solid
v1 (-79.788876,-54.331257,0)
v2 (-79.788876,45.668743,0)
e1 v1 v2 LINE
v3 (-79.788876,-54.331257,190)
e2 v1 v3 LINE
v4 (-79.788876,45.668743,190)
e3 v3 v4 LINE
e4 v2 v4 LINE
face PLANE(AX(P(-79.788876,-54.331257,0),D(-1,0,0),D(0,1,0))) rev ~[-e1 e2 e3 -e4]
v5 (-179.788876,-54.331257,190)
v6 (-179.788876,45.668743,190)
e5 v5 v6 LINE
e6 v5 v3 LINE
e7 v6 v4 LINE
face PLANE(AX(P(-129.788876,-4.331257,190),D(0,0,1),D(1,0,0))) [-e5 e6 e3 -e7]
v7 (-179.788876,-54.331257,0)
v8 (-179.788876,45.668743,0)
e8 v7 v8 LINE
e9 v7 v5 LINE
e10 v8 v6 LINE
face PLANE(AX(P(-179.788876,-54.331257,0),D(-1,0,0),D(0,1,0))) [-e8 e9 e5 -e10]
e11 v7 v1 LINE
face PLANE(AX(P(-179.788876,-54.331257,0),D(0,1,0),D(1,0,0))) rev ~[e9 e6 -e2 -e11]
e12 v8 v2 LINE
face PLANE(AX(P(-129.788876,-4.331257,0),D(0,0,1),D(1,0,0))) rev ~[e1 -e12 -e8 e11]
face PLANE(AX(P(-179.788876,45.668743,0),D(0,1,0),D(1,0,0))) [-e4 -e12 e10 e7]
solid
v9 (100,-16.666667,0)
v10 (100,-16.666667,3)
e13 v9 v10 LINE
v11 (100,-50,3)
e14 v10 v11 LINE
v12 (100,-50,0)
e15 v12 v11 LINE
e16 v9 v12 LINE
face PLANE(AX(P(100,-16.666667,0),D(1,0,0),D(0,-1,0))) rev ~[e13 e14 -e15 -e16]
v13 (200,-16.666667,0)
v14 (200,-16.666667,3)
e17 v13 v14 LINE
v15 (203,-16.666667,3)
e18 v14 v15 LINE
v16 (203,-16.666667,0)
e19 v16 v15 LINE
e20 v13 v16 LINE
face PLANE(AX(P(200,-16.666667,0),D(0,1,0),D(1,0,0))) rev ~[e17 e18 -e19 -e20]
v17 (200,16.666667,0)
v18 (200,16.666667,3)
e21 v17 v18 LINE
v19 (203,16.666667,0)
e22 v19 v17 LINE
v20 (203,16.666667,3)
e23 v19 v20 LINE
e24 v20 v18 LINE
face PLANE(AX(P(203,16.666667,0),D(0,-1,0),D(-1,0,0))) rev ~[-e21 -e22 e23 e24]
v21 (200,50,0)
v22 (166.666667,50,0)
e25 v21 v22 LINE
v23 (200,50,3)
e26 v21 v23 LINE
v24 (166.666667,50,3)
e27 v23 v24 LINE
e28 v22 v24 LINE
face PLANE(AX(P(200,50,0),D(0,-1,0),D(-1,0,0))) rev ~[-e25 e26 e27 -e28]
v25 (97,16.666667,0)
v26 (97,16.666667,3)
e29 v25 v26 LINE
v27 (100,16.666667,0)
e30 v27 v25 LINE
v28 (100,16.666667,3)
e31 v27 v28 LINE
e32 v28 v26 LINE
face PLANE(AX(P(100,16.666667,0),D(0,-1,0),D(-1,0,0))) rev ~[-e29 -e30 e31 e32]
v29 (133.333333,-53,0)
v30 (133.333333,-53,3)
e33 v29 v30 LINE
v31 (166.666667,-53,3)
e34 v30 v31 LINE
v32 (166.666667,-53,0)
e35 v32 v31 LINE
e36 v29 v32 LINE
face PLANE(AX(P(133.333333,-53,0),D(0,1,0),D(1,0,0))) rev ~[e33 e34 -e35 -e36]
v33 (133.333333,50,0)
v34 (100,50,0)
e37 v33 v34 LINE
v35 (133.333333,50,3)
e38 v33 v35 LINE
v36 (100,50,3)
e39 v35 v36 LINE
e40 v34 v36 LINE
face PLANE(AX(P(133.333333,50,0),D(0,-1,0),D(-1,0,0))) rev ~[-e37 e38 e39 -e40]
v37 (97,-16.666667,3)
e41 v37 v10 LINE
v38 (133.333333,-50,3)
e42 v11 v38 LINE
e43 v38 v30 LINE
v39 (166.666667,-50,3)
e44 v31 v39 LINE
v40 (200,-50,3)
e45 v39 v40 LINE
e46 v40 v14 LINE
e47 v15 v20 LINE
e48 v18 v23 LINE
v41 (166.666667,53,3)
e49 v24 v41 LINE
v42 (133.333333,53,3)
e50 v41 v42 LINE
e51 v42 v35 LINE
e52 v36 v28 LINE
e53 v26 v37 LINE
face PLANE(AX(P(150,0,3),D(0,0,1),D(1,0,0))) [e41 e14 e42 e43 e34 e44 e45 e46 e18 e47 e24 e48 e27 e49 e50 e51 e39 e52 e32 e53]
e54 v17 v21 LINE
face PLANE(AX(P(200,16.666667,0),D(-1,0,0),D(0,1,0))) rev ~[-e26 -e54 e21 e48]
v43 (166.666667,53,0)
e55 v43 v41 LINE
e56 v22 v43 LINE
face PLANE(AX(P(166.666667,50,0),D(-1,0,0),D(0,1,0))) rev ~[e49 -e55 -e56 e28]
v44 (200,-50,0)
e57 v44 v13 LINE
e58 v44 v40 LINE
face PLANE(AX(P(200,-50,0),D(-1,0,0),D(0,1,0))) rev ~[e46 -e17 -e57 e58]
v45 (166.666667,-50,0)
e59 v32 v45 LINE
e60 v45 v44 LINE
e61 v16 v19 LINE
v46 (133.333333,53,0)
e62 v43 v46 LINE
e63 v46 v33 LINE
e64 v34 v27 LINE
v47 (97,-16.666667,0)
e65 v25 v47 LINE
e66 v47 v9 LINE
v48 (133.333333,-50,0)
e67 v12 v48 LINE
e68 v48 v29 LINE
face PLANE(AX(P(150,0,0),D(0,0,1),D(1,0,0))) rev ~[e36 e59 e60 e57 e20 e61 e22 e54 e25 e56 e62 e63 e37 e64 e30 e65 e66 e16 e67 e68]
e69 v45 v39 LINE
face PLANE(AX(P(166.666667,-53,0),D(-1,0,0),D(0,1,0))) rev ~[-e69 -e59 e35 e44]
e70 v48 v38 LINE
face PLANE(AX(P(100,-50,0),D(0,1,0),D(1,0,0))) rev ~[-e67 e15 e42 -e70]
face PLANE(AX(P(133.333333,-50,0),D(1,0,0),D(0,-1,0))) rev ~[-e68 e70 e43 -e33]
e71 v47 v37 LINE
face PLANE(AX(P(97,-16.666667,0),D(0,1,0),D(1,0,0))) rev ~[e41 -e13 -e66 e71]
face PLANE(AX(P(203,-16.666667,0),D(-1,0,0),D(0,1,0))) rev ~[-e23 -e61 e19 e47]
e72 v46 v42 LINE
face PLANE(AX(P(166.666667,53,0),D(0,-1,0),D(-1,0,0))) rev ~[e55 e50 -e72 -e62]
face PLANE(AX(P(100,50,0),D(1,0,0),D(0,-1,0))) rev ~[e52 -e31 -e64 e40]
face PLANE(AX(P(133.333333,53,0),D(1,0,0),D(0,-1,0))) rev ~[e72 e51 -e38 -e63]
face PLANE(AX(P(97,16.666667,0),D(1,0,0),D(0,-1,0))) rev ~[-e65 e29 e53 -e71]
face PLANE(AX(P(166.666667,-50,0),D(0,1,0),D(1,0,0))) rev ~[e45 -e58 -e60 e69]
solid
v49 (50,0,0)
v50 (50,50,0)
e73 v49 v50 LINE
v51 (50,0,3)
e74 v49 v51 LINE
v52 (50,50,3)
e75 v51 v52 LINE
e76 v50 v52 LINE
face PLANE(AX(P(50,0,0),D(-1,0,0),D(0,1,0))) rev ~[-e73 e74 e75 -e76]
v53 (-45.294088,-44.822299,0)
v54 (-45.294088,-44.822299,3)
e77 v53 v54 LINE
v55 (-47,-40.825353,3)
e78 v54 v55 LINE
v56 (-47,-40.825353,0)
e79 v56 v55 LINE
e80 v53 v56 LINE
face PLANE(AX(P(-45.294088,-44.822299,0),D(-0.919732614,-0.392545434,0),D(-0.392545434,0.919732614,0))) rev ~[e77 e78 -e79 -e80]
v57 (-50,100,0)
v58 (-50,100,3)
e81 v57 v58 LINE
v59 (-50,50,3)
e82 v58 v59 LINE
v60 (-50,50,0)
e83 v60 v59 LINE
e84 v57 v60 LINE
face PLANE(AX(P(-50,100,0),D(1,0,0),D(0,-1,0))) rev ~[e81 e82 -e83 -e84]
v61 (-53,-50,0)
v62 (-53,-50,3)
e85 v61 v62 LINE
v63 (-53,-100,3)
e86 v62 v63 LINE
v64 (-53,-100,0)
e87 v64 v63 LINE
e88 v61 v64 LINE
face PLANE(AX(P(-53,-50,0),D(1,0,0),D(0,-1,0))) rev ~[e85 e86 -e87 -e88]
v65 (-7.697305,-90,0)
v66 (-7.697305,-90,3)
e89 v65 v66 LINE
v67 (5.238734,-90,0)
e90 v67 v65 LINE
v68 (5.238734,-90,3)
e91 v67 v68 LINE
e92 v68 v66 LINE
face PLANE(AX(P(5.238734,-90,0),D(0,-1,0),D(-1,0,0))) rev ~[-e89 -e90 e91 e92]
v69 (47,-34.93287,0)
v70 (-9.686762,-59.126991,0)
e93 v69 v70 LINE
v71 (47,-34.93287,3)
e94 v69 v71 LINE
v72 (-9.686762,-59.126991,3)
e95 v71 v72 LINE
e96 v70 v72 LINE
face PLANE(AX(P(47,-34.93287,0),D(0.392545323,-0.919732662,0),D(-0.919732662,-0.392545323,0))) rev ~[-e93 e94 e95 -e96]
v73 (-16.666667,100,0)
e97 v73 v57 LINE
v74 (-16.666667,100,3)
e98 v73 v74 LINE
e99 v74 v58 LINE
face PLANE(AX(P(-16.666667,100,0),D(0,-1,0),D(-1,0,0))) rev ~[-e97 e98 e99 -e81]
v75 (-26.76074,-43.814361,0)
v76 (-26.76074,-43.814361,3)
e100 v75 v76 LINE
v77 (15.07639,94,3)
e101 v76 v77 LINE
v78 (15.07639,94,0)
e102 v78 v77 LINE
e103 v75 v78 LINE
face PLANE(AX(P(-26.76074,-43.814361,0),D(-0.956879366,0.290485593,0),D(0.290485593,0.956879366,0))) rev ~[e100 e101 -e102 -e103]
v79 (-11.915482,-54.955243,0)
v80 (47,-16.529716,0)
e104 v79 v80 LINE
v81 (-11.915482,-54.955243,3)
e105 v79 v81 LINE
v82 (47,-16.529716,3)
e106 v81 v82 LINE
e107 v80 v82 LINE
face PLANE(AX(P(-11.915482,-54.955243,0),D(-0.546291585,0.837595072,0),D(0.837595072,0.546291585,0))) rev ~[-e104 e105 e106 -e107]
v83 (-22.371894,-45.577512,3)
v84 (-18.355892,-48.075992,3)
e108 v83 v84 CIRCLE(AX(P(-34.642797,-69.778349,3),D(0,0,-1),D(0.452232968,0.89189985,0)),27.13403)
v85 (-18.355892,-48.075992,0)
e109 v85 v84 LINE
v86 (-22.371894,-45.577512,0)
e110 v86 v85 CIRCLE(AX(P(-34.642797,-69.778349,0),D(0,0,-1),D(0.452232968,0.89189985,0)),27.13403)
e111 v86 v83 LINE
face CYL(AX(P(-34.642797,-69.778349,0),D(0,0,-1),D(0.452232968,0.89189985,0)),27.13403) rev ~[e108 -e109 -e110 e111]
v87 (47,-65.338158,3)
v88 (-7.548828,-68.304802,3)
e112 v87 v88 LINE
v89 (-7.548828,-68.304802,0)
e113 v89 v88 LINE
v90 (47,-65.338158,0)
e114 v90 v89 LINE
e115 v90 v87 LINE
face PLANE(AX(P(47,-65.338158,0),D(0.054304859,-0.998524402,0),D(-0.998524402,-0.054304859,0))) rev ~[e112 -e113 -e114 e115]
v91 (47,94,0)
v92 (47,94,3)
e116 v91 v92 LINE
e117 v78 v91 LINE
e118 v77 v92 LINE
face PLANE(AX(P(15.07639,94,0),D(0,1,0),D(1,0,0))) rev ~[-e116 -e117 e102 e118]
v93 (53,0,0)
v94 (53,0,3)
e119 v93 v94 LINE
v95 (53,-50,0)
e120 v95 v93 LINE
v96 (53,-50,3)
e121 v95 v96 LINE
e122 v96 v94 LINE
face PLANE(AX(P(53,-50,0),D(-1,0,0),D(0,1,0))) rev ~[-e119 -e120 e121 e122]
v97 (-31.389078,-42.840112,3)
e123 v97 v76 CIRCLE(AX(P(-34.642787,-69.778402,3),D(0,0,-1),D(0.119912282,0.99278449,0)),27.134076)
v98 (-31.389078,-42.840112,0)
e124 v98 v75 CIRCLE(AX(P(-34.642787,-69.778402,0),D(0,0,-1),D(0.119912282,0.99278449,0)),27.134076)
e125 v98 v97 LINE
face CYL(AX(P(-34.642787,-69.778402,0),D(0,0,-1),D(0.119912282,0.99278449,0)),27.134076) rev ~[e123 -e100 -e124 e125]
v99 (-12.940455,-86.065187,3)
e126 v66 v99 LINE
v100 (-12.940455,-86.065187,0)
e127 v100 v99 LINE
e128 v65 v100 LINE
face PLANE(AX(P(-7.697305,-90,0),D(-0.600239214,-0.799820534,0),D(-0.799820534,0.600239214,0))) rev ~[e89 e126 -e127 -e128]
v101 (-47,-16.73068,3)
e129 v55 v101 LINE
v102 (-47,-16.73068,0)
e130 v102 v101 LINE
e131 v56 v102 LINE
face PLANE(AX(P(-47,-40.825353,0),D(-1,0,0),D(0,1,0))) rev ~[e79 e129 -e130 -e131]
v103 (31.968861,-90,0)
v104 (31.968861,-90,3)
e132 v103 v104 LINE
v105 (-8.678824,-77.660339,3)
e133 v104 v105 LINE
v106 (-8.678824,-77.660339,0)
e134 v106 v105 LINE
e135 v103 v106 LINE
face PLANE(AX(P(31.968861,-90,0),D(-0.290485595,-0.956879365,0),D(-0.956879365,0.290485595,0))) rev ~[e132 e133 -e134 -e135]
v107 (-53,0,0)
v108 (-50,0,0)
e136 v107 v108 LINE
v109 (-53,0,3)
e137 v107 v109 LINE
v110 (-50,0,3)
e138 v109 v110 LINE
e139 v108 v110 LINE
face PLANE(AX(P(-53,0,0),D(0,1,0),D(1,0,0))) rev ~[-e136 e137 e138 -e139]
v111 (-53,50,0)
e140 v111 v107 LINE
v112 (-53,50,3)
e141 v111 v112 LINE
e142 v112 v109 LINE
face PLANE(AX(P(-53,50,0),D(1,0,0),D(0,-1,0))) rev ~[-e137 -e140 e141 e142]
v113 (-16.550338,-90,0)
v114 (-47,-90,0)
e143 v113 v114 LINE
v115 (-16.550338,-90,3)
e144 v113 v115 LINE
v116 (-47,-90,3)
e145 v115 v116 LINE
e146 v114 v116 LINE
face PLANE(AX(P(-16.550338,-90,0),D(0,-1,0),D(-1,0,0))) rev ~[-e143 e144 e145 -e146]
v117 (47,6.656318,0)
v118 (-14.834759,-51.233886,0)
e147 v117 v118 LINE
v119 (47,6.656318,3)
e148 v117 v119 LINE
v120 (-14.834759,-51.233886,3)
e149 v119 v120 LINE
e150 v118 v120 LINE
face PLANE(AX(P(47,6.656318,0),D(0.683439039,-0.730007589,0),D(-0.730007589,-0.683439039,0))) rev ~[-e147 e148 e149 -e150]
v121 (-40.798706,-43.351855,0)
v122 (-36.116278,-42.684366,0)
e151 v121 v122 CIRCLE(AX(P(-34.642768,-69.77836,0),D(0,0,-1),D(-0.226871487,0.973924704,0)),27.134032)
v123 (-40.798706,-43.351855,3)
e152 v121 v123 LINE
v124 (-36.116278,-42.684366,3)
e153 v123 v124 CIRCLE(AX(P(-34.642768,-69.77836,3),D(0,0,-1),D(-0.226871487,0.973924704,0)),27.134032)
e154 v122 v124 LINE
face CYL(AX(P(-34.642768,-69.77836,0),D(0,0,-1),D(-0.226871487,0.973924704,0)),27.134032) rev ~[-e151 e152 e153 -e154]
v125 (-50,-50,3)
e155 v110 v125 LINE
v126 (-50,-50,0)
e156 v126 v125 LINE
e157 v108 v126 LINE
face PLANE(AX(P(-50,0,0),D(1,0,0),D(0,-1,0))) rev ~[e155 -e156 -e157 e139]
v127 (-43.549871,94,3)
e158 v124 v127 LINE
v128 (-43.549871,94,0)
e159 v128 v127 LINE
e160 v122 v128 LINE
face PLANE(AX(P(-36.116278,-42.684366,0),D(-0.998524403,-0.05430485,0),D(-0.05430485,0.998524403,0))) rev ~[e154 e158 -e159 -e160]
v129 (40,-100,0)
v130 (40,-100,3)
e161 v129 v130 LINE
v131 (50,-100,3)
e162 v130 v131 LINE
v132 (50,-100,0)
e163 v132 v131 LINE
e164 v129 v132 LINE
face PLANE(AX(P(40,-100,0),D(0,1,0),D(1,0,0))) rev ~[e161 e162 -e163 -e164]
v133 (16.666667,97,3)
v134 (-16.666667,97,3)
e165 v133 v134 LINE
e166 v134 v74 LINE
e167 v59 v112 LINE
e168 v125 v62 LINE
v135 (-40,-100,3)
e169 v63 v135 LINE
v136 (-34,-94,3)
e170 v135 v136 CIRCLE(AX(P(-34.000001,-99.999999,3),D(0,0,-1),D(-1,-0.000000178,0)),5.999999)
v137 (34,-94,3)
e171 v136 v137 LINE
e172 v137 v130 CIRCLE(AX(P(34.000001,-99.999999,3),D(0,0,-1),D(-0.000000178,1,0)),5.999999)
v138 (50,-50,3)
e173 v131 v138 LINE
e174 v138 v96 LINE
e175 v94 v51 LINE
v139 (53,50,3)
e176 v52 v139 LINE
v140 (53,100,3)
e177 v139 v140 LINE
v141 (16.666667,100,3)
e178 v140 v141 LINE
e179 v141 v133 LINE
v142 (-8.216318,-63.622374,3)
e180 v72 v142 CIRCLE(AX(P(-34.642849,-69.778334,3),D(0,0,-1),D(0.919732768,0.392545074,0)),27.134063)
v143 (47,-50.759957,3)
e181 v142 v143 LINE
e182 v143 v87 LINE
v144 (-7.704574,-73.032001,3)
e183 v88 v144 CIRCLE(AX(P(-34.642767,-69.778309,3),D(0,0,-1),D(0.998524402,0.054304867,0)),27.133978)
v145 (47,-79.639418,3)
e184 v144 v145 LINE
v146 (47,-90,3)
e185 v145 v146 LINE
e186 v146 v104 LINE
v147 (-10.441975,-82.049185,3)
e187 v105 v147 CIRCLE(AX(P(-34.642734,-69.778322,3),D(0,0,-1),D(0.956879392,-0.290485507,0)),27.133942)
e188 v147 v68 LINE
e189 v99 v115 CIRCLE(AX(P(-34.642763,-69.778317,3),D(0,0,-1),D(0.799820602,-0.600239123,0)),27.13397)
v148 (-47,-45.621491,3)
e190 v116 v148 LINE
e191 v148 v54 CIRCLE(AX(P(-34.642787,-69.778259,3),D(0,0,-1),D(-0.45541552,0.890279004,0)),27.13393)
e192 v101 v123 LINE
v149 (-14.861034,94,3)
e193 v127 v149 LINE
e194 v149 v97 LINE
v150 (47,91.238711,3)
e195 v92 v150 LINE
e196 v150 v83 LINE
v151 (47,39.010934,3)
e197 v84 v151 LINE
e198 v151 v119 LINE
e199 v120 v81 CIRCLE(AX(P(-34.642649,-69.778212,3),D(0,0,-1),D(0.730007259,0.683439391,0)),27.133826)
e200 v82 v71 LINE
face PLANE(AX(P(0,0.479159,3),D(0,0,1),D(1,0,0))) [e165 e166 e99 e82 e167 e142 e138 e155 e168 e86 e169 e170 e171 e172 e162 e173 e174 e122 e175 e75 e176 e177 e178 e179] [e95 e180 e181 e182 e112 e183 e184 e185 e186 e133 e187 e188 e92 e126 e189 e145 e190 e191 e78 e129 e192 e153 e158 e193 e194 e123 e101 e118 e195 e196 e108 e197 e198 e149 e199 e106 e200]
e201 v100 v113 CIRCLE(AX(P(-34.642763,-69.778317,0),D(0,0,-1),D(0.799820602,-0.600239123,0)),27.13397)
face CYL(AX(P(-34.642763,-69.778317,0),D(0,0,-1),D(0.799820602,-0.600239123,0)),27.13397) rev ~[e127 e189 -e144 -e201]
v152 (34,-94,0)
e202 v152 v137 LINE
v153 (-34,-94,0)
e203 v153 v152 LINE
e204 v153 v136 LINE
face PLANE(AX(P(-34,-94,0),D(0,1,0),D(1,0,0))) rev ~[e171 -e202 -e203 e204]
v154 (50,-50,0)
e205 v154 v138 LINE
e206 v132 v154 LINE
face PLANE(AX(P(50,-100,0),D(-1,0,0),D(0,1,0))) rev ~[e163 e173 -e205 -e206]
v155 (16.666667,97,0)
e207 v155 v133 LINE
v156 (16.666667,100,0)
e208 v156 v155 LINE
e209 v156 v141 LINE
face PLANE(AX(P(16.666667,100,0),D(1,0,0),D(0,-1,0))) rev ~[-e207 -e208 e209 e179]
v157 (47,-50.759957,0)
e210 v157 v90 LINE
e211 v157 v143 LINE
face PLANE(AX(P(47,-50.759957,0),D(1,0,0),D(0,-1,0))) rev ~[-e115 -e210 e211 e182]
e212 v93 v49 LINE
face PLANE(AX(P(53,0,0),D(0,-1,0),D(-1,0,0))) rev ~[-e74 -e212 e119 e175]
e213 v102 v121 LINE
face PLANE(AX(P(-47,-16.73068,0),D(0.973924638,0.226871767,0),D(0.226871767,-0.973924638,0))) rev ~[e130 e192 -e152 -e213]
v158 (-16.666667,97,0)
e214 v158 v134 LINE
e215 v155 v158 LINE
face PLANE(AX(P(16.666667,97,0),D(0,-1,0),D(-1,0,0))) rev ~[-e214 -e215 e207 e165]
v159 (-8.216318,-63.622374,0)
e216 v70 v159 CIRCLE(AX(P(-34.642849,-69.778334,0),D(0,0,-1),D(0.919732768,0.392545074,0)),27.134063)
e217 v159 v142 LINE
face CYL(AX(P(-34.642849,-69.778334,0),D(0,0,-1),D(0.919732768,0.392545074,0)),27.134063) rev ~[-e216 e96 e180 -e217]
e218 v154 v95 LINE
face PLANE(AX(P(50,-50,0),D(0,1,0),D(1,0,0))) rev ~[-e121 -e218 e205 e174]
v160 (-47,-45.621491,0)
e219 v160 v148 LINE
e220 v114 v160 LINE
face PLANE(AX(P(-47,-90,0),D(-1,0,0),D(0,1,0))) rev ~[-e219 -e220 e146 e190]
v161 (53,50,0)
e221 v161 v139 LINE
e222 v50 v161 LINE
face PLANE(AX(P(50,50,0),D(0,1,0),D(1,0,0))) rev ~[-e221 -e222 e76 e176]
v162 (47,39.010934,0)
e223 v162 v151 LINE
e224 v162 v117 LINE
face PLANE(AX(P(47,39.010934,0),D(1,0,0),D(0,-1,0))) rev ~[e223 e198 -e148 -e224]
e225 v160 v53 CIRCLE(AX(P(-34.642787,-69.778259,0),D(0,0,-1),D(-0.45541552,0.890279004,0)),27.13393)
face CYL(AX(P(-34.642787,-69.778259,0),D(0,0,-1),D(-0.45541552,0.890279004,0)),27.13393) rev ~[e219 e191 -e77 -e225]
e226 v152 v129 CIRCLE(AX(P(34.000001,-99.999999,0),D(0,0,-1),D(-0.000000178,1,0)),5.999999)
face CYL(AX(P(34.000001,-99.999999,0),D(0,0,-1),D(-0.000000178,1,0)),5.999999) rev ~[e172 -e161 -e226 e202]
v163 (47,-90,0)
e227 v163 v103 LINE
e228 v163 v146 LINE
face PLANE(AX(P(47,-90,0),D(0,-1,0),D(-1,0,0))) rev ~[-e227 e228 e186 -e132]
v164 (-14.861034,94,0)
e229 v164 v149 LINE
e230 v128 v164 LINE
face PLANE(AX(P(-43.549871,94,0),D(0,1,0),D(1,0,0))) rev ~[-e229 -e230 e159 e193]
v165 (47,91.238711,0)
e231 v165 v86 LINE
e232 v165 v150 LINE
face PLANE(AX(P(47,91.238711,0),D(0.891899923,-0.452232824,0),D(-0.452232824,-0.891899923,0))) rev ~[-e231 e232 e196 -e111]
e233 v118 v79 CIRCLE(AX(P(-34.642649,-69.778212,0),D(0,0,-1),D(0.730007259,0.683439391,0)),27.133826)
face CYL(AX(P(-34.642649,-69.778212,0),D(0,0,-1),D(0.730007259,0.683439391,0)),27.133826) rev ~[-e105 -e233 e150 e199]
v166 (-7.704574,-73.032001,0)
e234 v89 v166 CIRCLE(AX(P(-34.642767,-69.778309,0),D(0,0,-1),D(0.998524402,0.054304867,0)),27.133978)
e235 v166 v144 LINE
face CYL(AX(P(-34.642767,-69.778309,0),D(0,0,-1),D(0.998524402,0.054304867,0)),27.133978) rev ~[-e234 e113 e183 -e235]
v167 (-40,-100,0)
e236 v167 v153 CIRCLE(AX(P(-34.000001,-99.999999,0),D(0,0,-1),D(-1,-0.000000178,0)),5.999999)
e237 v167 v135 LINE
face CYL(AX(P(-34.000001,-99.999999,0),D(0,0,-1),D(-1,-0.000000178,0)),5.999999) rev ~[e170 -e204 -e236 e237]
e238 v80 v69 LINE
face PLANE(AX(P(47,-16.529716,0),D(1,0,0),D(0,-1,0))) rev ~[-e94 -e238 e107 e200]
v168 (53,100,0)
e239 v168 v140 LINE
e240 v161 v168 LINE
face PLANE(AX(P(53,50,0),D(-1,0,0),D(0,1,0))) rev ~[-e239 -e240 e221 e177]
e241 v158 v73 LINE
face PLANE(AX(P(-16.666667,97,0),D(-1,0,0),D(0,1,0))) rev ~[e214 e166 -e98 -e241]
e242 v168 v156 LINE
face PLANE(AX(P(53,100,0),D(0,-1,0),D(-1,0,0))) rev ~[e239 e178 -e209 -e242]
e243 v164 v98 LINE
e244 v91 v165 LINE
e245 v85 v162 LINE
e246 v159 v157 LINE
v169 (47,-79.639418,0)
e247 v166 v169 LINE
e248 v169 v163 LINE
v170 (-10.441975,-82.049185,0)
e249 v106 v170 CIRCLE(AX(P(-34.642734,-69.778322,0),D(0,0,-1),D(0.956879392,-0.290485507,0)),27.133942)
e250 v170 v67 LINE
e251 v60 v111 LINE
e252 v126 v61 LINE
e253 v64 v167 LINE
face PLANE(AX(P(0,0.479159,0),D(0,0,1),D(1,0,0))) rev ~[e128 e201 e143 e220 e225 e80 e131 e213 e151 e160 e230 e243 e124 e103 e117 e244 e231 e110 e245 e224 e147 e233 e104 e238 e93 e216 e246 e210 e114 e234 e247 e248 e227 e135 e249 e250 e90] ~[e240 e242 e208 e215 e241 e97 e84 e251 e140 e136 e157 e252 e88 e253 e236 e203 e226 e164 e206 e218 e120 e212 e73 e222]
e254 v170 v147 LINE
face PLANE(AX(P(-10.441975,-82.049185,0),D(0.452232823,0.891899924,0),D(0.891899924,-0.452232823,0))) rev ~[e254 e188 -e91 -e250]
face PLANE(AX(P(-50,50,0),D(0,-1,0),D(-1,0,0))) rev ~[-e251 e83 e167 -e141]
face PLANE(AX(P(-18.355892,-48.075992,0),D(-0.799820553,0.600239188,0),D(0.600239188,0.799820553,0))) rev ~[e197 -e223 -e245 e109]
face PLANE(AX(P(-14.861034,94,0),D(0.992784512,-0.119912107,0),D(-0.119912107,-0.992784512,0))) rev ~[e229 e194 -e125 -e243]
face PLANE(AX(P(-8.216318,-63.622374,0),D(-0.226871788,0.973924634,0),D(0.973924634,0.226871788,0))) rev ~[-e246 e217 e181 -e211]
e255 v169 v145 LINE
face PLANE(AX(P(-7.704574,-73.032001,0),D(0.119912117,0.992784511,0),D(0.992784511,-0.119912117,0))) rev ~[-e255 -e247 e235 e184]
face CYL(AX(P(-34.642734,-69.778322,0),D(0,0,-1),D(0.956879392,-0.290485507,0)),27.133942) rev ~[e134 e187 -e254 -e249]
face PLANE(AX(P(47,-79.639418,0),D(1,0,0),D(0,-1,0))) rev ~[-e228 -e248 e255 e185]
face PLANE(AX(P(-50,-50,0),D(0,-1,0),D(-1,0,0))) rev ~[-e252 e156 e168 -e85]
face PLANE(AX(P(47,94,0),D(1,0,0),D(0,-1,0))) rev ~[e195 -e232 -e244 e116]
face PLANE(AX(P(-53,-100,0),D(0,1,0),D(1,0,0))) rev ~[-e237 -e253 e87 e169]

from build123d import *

# Parameters (mm, degrees)
F1_DEPTH = 3
F2_W     = 100
F2_H     = 100
F3_DEPTH = 190


with BuildPart() as f1:
    # F0 (on Top) → F1 (new body)
    with BuildSketch(Plane.XY):
        with BuildLine():
            Line((-16.666667, 100), (-50, 100))
            Line((-50, 100), (-50, 50))
            Line((-50, 50), (-53, 50))
            Line((-53, 50), (-53, 0))
            Line((-53, 0), (-50, 0))
            Line((-50, 0), (-50, -50))
            Line((-50, -50), (-53, -50))
            Line((-53, -50), (-53, -100))
            Line((-53, -100), (-50, -100))
            Line((-50, -100), (-40, -100))
            ThreePointArc((-40, -100), (-38.242641, -95.757359), (-34, -94))
            Line((-34, -94), (34, -94))
            ThreePointArc((34, -94), (38.242641, -95.757359), (40, -100))
            Line((40, -100), (50, -100))
            Line((50, -100), (50, -50))
            Line((50, -50), (53, -50))
            Line((53, -50), (53, 0))
            Line((53, 0), (50, 0))
            Line((50, 0), (50, 50))
            Line((50, 50), (53, 50))
            Line((53, 50), (53, 100))
            Line((53, 100), (50, 100))
            Line((50, 100), (16.666667, 100))
            Line((16.666667, 100), (16.666667, 97))
            Line((16.666667, 97), (-16.666667, 97))
            Line((-16.666667, 97), (-16.666667, 100))
        make_face()
        Polygon((-47, -90), (-47, -45.621491), (-47, -40.825353), (-47, -16.73068), (-47, 94), (-43.549871, 94), (-14.861034, 94), (15.07639, 94), (47, 94), (47, 91.238711), (47, 39.010934), (47, 6.656318), (47, -16.529716), (47, -34.93287), (47, -50.759957), (47, -65.338158), (47, -79.639418), (47, -90), (31.968861, -90), (5.238734, -90), (-7.697305, -90), (-16.550338, -90), align=None, mode=Mode.SUBTRACT)
        Polygon((133.333333, 50), (100, 50), (100, 16.666667), (97, 16.666667), (97, -16.666667), (100, -16.666667), (100, -50), (133.333333, -50), (133.333333, -53), (166.666667, -53), (166.666667, -50), (200, -50), (200, -16.666667), (203, -16.666667), (203, 16.666667), (200, 16.666667), (200, 50), (166.666667, 50), (166.666667, 53), (133.333333, 53), align=None)
        with BuildLine():
            Line((-10.441975, -82.049185), (5.238734, -90))
            Line((5.238734, -90), (31.968861, -90))
            Line((31.968861, -90), (-8.678824, -77.660339))
            ThreePointArc((-8.678824, -77.660339), (-9.464589, -79.893253), (-10.441975, -82.049185))
        make_face()
        with BuildLine():
            Line((-7.704574, -73.032001), (47, -79.639418))
            Line((47, -79.639418), (47, -65.338158))
            Line((47, -65.338158), (-7.548828, -68.304802))
            ThreePointArc((-7.548828, -68.304802), (-7.523504, -70.671801), (-7.704574, -73.032001))
        make_face()
        with BuildLine():
            Line((-8.216318, -63.622374), (47, -50.759957))
            Line((47, -50.759957), (47, -34.93287))
            Line((47, -34.93287), (-9.686762, -59.126991))
            ThreePointArc((-9.686762, -59.126991), (-8.853404, -61.342582), (-8.216318, -63.622374))
        make_face()
        with BuildLine():
            Line((47, -16.529716), (47, 6.656318))
            Line((47, 6.656318), (-14.834759, -51.233886))
            ThreePointArc((-14.834759, -51.233886), (-13.293881, -53.030835), (-11.915482, -54.955243))
            Line((-11.915482, -54.955243), (47, -16.529716))
        make_face()
        with BuildLine():
            Line((47, 39.010934), (47, 91.238711))
            Line((47, 91.238711), (-22.371894, -45.577512))
            ThreePointArc((-22.371894, -45.577512), (-20.30935, -46.739081), (-18.355892, -48.075992))
            Line((-18.355892, -48.075992), (47, 39.010934))
        make_face()
        with BuildLine():
            Line((15.07639, 94), (-14.861034, 94))
            Line((-14.861034, 94), (-31.389078, -42.840112))
            ThreePointArc((-31.389078, -42.840112), (-29.053641, -43.226198), (-26.76074, -43.814361))
            Line((-26.76074, -43.814361), (15.07639, 94))
        make_face()
        with BuildLine():
            Line((-47, 94), (-47, -16.73068))
            Line((-47, -16.73068), (-40.798706, -43.351855))
            ThreePointArc((-40.798706, -43.351855), (-38.472063, -42.915891), (-36.116278, -42.684366))
            Line((-36.116278, -42.684366), (-43.549871, 94))
            Line((-43.549871, 94), (-47, 94))
        make_face()
        with BuildLine():
            Line((-47, -40.825353), (-47, -45.621491))
            ThreePointArc((-47, -45.621491), (-46.153982, -45.207086), (-45.294088, -44.822299))
            Line((-45.294088, -44.822299), (-47, -40.825353))
        make_face()
        with BuildLine():
            ThreePointArc((-12.940455, -86.065187), (-14.648367, -88.121611), (-16.550338, -90))
            Line((-16.550338, -90), (-7.697305, -90))
            Line((-7.697305, -90), (-12.940455, -86.065187))
        make_face()
    extrude(amount=F1_DEPTH)


with BuildPart() as f3:
    # F2 (on Top) → F3 (new body)
    with BuildSketch(Plane.XY):
        with Locations((-129.788876, -4.331257)):
            Rectangle(F2_W, F2_H)
    extrude(amount=F3_DEPTH)


solid = Compound([f1.part, f3.part])
